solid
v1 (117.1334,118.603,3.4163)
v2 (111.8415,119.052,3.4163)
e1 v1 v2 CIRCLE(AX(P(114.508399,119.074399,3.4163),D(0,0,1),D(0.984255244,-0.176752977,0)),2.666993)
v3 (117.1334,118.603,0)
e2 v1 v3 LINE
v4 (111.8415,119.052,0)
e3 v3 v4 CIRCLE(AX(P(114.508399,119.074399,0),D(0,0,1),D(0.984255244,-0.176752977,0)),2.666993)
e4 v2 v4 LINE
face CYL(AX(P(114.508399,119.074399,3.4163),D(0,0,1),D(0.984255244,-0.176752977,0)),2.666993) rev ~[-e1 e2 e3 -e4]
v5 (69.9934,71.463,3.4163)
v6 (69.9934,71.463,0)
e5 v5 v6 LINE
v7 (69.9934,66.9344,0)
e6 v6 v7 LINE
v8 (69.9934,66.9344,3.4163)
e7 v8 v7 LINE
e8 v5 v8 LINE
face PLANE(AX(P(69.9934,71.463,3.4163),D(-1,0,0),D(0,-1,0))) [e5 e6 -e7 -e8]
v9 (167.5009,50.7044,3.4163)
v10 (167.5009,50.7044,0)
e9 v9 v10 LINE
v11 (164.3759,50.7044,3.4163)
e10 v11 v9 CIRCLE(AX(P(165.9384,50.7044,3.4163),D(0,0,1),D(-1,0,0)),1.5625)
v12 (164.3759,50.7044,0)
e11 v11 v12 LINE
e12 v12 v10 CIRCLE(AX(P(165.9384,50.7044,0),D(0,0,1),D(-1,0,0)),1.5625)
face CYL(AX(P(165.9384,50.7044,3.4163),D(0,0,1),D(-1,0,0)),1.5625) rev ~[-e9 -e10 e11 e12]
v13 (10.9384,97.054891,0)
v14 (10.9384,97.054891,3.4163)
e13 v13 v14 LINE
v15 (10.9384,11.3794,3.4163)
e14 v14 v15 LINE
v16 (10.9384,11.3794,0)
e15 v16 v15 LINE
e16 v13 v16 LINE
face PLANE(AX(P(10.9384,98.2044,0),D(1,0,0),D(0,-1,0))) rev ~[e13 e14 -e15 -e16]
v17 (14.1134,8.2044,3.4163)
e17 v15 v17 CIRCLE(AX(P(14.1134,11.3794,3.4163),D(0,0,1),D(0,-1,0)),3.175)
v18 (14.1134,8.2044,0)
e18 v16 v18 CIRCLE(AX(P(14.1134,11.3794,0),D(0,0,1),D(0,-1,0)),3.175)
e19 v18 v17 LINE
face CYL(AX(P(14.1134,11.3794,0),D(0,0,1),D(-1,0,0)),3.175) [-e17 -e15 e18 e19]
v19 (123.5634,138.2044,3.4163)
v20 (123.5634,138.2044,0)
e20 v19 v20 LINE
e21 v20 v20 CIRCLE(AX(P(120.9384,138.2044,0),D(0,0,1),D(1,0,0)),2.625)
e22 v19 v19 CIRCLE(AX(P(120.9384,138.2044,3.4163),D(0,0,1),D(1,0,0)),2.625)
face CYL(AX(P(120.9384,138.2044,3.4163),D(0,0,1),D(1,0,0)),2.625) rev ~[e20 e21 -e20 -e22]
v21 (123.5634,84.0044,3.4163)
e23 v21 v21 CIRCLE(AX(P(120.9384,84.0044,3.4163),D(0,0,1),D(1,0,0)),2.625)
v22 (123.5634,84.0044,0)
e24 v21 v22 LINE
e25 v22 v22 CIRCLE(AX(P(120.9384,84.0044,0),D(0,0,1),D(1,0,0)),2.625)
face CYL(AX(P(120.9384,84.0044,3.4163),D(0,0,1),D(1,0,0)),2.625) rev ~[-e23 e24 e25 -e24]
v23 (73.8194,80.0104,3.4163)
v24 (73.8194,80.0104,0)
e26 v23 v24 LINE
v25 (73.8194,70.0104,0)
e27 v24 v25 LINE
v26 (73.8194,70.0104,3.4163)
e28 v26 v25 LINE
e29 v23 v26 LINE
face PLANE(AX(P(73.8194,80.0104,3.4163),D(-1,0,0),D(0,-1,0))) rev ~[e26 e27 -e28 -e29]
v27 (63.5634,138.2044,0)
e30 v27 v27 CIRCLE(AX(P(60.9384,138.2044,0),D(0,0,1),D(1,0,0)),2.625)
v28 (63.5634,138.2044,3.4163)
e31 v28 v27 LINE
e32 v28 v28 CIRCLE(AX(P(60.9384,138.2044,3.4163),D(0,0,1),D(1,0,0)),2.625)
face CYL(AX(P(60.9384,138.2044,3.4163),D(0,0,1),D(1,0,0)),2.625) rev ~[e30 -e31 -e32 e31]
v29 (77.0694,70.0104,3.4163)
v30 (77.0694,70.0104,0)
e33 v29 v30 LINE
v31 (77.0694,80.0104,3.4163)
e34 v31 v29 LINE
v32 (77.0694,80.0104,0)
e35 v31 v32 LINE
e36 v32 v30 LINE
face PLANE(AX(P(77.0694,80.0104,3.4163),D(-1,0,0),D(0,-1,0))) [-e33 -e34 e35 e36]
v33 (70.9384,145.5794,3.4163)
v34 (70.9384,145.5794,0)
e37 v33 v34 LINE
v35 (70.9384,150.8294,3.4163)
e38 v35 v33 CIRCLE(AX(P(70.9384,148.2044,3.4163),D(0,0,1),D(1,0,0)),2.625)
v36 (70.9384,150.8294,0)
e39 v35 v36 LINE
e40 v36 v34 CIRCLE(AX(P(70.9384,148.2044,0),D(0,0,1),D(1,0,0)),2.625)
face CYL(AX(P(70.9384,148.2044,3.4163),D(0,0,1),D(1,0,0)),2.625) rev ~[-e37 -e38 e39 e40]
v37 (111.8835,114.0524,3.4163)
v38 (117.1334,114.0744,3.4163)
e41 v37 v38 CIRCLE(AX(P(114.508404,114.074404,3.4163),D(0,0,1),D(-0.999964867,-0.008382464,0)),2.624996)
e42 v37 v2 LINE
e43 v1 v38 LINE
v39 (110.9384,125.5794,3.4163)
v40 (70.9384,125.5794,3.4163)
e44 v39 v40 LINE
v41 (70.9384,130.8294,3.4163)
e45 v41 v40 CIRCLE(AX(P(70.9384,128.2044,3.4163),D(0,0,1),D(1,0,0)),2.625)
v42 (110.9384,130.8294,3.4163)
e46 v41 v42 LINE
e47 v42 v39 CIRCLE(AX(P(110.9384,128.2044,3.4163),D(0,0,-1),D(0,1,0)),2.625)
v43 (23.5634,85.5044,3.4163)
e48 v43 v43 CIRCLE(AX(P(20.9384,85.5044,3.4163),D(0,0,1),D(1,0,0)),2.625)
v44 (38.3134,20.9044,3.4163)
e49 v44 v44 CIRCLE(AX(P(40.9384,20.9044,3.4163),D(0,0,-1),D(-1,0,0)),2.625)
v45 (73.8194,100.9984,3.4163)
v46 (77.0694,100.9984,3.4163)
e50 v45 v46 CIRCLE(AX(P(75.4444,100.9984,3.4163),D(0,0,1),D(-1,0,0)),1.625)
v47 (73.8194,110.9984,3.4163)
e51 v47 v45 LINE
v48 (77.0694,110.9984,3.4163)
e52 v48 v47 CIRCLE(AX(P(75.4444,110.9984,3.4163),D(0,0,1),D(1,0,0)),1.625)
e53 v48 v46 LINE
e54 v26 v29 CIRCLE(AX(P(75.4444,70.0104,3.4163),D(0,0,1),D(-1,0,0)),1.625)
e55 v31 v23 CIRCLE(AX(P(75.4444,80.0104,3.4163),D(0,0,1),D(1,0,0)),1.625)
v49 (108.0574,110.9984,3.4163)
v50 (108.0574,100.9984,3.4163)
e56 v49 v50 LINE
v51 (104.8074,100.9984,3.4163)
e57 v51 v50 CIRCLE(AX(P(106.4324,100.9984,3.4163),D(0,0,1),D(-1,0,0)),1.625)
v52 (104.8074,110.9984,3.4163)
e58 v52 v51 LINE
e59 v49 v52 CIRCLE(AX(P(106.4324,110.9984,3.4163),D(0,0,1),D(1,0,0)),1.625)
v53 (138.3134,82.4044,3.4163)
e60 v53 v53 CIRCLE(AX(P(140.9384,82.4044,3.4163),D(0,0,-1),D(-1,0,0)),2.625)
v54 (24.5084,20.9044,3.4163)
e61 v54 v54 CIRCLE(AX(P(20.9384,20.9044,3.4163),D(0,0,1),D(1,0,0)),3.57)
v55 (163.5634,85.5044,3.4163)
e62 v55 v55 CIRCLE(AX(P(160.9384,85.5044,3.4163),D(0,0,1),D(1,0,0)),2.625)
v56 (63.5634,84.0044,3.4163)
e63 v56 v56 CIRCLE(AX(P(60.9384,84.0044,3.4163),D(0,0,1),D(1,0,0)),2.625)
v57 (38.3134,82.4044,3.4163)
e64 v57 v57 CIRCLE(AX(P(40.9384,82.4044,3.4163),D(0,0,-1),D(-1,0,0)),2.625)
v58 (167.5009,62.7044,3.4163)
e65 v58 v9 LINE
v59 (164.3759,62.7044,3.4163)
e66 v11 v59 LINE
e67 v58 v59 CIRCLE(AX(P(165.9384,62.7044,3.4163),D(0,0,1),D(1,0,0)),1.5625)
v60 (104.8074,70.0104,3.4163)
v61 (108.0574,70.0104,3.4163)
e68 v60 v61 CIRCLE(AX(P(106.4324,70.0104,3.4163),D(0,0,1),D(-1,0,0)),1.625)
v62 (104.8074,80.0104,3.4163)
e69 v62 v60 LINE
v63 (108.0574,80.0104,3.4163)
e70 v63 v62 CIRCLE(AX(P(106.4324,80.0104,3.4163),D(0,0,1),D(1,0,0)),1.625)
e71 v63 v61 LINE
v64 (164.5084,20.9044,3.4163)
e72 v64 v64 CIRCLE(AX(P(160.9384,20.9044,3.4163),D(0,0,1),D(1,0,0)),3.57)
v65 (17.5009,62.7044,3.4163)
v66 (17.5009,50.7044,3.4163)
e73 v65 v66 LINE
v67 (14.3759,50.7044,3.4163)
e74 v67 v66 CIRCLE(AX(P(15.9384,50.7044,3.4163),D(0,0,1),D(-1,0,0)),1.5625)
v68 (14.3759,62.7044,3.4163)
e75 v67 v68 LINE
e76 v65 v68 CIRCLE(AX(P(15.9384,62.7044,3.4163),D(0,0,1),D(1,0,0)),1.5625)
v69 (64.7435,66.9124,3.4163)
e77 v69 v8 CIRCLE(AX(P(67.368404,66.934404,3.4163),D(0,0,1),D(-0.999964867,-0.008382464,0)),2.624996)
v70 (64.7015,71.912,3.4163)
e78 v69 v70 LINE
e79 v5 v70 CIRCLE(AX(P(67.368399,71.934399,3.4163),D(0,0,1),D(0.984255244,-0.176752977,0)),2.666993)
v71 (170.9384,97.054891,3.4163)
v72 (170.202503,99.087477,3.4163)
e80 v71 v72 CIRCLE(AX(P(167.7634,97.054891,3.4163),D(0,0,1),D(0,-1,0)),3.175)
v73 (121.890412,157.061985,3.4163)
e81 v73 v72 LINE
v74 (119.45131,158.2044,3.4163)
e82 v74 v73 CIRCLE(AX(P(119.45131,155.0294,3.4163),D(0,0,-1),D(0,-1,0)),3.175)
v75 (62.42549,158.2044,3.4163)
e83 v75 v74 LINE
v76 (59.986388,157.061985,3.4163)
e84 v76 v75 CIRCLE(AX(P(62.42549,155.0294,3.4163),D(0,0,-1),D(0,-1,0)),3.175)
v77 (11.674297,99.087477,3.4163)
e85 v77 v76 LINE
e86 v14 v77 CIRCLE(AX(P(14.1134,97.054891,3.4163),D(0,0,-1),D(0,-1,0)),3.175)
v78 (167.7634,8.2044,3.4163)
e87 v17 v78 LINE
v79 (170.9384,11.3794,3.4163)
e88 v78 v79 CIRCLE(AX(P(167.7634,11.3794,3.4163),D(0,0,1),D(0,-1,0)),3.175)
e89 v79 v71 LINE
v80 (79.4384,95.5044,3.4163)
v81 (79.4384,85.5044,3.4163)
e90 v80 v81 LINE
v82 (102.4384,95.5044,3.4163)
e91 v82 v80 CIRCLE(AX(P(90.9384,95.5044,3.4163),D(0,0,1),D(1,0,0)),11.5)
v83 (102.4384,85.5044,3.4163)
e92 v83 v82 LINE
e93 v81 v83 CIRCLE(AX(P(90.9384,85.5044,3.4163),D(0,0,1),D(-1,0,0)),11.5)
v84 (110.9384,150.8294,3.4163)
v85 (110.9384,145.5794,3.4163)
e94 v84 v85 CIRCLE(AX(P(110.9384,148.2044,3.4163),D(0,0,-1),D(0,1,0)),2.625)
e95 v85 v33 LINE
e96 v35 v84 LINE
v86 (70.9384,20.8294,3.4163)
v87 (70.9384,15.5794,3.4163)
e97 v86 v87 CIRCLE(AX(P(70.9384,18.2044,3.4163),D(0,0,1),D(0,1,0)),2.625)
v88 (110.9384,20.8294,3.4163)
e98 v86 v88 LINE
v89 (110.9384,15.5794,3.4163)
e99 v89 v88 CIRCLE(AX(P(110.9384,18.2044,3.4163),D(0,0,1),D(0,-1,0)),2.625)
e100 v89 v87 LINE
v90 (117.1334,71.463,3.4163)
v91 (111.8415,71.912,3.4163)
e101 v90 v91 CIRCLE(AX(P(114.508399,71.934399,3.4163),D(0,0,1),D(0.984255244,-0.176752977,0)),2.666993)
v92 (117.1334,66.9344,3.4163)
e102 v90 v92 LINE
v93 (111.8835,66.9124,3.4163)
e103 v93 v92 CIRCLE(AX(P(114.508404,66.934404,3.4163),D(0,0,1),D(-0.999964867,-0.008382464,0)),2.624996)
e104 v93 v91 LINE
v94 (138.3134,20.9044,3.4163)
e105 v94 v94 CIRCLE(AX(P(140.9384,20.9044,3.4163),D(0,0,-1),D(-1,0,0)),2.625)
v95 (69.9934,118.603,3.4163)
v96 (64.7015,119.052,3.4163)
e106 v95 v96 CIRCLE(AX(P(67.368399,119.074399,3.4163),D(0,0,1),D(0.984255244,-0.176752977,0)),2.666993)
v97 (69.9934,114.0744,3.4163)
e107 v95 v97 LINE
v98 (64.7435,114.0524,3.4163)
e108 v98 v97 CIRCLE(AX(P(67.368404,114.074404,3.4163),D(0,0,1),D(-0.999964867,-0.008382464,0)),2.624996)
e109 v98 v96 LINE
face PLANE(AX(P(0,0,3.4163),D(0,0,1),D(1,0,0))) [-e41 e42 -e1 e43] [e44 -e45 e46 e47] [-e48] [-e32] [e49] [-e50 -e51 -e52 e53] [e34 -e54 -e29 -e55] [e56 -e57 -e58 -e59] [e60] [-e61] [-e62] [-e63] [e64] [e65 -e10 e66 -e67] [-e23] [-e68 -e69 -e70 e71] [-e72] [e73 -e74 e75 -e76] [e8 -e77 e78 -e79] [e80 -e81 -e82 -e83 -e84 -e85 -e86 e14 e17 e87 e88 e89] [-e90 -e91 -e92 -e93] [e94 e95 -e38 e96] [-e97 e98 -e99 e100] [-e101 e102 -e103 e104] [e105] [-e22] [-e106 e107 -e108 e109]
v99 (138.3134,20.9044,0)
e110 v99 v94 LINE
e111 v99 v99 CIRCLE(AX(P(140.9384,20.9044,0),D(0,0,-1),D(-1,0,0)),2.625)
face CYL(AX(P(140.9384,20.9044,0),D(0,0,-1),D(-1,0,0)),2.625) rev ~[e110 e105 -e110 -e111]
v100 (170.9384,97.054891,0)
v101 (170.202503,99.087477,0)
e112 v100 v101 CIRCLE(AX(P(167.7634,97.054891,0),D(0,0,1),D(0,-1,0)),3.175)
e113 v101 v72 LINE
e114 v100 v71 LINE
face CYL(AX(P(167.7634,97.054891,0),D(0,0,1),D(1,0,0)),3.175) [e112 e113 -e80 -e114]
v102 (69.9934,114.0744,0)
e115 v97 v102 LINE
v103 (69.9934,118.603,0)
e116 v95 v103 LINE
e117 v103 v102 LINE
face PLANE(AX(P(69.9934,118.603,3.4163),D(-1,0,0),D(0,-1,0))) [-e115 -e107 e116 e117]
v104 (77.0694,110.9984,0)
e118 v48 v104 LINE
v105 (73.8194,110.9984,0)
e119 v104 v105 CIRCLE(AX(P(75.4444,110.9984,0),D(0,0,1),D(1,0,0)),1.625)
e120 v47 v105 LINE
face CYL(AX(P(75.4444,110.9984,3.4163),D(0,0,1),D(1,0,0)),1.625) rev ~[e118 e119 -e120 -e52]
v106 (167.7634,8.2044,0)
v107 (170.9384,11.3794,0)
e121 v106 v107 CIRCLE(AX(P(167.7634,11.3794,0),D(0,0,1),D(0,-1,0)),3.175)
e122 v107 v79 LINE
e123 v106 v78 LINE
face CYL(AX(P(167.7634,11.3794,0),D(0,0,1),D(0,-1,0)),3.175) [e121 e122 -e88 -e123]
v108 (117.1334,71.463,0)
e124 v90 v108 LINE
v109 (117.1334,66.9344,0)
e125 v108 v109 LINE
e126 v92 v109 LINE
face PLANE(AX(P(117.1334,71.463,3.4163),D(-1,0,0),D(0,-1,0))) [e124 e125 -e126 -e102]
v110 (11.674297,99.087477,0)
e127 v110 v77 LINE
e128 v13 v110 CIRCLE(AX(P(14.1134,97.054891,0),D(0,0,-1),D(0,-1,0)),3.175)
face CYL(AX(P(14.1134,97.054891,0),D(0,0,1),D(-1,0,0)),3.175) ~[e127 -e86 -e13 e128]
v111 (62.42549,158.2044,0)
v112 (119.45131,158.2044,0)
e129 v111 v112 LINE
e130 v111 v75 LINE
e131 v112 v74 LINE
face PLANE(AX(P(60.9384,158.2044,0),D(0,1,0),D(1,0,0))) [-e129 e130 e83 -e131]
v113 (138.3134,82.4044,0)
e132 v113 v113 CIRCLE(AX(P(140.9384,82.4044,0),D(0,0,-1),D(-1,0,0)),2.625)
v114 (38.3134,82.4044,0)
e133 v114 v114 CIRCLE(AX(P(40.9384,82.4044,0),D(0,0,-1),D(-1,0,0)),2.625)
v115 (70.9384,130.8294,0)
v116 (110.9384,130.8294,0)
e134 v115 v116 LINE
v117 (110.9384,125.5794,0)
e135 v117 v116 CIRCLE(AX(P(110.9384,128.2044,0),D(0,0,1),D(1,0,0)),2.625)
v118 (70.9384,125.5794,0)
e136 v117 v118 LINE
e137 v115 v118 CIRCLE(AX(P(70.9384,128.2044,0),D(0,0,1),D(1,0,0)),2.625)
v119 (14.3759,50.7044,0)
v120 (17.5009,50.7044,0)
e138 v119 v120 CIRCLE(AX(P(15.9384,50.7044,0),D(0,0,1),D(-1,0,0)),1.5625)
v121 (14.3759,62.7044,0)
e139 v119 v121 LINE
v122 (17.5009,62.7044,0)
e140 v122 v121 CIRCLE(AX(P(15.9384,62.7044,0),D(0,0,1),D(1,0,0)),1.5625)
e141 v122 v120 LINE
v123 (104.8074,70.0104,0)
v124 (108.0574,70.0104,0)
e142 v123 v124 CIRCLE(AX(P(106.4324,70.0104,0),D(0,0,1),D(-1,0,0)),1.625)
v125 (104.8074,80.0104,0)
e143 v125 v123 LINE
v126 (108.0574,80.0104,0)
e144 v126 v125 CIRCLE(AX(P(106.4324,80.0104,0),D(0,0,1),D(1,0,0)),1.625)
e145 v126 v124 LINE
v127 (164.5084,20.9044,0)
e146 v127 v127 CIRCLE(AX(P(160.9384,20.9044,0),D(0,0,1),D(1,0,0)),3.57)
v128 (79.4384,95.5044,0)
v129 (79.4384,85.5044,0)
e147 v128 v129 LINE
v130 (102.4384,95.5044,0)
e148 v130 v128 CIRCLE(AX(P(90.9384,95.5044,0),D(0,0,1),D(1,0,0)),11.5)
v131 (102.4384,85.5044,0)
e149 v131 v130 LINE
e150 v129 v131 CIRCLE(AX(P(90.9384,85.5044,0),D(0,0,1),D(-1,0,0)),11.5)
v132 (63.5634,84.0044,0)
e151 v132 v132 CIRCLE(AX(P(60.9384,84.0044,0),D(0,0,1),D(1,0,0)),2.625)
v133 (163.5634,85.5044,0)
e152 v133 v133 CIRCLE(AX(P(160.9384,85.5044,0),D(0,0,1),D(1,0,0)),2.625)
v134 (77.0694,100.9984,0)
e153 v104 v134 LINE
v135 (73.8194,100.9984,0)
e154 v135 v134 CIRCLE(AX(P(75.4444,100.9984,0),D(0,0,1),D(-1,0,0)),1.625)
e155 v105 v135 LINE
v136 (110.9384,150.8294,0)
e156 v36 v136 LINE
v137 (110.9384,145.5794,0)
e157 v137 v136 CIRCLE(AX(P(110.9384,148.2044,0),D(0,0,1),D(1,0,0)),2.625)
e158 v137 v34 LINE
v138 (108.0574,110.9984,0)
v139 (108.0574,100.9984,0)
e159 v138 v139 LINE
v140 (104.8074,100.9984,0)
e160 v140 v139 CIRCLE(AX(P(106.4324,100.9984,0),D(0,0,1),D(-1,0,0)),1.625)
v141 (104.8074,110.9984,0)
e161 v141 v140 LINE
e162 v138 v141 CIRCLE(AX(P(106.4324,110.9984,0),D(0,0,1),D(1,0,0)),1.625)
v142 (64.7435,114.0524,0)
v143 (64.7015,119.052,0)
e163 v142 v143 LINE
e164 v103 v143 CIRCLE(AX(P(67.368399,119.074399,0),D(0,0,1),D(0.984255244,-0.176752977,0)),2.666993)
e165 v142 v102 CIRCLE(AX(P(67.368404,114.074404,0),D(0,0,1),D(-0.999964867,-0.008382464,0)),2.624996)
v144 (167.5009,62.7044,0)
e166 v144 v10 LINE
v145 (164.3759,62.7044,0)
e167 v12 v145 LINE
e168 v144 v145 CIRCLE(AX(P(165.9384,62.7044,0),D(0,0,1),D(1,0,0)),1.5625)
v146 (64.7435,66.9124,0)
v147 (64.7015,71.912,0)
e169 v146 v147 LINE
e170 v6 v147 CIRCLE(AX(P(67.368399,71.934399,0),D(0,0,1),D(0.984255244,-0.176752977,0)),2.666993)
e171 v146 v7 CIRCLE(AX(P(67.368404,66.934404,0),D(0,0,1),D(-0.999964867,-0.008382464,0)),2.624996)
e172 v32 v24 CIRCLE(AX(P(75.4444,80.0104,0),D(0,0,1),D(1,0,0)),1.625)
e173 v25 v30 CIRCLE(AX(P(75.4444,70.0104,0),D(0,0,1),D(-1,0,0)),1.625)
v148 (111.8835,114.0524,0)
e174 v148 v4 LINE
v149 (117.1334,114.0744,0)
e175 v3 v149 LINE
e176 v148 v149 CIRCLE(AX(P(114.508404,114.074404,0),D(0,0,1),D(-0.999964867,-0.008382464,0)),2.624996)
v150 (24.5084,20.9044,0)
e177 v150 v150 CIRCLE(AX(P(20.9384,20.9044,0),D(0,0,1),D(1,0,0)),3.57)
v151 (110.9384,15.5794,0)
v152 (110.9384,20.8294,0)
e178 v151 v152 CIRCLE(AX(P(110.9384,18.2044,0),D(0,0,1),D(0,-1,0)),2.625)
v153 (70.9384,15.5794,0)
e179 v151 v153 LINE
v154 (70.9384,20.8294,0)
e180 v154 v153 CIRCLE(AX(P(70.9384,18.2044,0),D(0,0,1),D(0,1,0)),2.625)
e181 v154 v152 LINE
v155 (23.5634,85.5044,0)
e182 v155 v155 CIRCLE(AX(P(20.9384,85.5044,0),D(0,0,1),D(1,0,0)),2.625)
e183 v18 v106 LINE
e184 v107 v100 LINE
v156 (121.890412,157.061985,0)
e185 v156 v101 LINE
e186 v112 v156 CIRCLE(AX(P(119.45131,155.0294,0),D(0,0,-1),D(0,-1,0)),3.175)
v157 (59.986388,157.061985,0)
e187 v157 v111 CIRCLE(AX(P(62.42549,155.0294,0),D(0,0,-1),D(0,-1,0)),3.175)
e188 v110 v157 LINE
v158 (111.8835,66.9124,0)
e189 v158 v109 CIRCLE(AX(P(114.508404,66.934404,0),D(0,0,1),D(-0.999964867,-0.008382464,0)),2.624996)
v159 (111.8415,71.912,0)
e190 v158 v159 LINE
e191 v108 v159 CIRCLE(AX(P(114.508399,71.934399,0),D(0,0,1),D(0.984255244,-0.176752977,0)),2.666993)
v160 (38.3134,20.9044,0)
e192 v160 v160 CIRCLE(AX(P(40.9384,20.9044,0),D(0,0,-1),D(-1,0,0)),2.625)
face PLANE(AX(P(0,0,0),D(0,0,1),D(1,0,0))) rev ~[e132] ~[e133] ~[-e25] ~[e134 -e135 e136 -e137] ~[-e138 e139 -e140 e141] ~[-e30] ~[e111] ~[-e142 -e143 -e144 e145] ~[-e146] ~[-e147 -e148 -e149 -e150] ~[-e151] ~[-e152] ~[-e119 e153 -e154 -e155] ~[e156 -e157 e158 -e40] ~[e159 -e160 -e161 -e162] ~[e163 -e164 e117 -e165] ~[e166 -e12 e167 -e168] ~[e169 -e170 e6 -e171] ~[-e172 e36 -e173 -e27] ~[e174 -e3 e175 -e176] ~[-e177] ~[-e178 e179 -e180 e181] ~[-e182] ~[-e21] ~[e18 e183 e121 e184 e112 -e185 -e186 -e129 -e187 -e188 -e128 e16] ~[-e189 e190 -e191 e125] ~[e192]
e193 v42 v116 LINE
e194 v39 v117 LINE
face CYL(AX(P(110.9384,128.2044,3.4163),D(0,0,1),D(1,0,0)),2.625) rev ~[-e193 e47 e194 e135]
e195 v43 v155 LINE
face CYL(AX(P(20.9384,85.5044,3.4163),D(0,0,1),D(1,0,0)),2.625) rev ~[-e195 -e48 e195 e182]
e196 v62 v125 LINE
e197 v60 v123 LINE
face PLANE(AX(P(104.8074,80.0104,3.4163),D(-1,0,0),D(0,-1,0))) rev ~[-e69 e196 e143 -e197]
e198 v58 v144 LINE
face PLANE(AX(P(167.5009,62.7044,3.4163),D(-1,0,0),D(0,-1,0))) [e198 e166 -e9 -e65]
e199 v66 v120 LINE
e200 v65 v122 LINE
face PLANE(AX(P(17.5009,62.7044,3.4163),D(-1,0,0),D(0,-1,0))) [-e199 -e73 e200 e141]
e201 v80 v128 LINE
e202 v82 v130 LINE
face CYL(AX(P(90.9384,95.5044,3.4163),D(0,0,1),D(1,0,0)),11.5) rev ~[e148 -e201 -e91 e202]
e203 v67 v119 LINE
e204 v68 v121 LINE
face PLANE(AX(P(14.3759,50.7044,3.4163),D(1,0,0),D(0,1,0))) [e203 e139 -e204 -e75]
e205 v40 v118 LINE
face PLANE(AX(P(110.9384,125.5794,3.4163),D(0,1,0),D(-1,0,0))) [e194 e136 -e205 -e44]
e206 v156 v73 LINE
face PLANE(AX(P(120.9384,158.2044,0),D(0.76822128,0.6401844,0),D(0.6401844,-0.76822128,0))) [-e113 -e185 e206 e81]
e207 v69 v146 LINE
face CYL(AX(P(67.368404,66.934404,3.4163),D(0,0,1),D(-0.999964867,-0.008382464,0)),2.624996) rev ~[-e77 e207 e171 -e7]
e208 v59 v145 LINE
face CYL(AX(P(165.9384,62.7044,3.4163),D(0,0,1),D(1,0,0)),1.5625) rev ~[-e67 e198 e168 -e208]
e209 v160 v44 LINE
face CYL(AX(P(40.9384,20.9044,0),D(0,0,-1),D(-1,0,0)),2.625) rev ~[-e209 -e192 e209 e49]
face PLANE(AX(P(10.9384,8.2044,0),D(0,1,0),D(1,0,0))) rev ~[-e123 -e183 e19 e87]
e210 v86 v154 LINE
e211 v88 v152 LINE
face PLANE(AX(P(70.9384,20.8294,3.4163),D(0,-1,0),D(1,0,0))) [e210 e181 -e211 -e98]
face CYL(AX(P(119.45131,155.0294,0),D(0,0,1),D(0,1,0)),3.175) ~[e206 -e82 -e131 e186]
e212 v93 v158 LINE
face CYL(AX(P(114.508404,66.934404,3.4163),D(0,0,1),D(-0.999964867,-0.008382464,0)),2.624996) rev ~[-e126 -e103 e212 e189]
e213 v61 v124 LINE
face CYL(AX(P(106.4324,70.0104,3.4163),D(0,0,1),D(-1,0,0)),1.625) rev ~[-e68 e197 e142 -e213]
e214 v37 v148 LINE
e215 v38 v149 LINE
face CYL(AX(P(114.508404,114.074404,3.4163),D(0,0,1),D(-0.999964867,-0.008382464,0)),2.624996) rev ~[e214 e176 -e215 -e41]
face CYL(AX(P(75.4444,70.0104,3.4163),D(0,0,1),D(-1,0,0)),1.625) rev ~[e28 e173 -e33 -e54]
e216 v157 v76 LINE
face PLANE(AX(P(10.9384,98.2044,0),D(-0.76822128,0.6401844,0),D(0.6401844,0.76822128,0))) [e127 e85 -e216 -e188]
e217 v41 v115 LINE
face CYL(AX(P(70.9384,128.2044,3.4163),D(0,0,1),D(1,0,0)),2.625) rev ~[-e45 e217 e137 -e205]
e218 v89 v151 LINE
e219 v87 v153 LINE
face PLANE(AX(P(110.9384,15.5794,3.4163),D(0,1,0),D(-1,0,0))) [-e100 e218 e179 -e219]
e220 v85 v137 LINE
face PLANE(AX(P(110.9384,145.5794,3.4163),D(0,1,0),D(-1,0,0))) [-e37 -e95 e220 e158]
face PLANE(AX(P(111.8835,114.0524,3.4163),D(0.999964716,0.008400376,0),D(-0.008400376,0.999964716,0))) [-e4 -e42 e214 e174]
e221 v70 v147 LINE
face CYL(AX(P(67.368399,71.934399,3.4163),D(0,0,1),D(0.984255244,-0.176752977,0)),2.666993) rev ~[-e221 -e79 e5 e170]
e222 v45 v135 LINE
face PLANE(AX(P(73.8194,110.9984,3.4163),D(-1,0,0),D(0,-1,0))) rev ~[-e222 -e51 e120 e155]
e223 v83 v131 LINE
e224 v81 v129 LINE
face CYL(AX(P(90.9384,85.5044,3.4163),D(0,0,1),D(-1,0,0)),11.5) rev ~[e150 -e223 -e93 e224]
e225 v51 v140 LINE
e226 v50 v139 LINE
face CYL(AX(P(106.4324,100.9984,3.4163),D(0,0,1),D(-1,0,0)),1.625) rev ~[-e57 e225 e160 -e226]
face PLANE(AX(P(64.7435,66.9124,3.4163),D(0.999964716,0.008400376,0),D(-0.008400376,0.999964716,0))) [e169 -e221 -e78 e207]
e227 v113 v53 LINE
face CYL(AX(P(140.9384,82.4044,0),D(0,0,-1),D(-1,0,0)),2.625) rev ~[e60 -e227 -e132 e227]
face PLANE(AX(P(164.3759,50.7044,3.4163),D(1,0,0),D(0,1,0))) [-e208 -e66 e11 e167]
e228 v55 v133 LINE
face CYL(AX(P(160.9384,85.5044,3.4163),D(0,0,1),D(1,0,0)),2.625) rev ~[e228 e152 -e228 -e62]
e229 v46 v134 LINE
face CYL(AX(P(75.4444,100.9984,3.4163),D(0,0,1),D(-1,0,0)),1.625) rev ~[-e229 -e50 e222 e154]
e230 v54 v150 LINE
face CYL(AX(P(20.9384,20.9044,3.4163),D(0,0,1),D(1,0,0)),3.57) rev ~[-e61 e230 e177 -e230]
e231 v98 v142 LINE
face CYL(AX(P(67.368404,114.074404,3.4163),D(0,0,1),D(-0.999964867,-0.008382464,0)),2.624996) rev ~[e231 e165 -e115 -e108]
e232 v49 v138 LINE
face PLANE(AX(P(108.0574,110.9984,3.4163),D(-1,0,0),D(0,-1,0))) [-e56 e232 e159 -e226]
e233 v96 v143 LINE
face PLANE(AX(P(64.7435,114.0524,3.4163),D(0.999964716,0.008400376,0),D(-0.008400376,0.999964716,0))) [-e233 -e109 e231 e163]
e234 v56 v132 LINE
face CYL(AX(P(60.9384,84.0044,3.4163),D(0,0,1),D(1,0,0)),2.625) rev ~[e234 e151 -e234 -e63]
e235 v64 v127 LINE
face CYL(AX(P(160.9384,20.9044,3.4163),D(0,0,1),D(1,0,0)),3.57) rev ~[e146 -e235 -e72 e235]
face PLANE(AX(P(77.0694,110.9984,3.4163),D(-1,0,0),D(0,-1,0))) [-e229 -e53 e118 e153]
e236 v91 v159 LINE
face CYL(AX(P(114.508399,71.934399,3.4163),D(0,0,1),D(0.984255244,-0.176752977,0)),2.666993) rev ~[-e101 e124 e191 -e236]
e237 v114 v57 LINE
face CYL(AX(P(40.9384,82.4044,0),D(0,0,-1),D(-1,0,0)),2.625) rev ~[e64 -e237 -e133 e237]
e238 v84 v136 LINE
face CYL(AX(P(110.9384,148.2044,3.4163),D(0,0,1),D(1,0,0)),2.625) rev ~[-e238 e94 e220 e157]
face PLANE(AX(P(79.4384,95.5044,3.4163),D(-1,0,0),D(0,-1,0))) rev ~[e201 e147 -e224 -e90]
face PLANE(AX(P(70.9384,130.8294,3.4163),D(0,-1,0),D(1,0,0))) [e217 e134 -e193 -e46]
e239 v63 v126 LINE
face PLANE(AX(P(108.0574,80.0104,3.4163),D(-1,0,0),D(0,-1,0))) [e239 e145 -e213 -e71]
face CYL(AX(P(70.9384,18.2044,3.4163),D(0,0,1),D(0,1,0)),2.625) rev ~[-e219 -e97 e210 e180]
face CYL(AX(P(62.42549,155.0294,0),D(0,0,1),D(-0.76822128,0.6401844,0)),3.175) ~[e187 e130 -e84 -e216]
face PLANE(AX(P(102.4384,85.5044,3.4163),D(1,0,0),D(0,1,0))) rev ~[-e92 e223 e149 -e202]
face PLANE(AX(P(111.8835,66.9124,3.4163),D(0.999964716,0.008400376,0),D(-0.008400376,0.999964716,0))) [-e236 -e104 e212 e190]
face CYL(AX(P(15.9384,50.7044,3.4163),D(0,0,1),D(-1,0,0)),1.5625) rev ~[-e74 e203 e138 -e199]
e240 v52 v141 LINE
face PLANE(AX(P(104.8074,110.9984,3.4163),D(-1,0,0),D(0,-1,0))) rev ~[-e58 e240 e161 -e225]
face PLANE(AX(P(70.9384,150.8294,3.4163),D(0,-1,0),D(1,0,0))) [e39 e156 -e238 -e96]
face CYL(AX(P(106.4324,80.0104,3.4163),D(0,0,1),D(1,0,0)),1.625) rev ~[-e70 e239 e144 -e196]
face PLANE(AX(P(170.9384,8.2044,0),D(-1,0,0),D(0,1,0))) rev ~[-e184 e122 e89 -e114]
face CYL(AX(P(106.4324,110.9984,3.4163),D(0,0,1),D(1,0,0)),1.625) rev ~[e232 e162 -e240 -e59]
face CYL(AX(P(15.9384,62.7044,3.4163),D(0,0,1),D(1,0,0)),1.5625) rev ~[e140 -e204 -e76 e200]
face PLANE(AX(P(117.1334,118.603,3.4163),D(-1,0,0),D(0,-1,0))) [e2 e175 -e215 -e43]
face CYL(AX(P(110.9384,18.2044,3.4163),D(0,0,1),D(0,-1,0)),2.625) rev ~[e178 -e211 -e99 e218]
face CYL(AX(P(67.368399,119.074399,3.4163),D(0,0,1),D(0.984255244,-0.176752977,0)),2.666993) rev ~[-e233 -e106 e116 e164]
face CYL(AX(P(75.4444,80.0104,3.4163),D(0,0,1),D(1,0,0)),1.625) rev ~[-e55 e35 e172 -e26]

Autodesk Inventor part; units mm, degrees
ref_plane "YZ Plane" through (0, 0, 0) normal (1, 0, 0) x (0, 1, 0)
ref_plane "XZ Plane" through (0, 0, 0) normal (0, 1, 0) x (-1, 0, 0)
ref_plane "XY Plane" through (0, 0, 0) normal (0, 0, 1) x (1, 0, 0)
sketch "Sketch1" plane through (0, 0, 0) normal (0, 0, 1) x (1, 0, 0)
  line L0 (10.9384, 8.2044) -> (170.9384, 8.2044)
  line L1 (170.9384, 8.2044) -> (170.9384, 98.2044)
  line L2 (10.9384, 98.2044) -> (10.9384, 8.2044)
  line L3 (10.9384, 98.2044) -> (60.9384, 158.2044)
  line L4 (60.9384, 158.2044) -> (120.9384, 158.2044)
  line L5 (120.9384, 158.2044) -> (170.9384, 98.2044)
  dimension "d0" = 160
  dimension "d4" = 60
  dimension "d5" = 50
  dimension "d6" = 90
  dimension "d7" = 90
  dimension "d8" = 150
extrude "Extrusion1" add sketch "Sketch1" along normal blind 3.4163
sketch "Sketch2" plane through (0, 0, 3.4163) normal (0, 0, 1) x (1, 0, 0)
  line L0 (10.9384, 8.2044) -> (10.9384, 98.2044) projected
  line L1 (170.9384, 8.2044) -> (10.9384, 8.2044) projected
  circle A0 centre (20.9384, 20.9044) radius 3.57
  circle A1 centre (20.9384, 85.5044) radius 2.625
  dimension "d11" = 7.14
  dimension "d12" = 12.7
  dimension "d13" = 10
  dimension "d14" = 10
  dimension "d15" = 64.6
  dimension "d16" = 5.25
extrude "wheel_holes" cut sketch "Sketch2" against normal through all
pattern_linear "Rectangular Pattern1" count 2 spacing 140 along (1, 0, 0) of "wheel_holes"
sketch "Sketch3" plane through (0, 0, 3.4163) normal (0, 0, 1) x (1, 0, 0)
  line L0 (10.9384, 8.2044) -> (10.9384, 98.2044) projected
  line L1 (170.9384, 8.2044) -> (10.9384, 8.2044) projected
  arc A0 (79.4384, 85.5044) -> (102.4384, 85.5044) centre (90.9384, 85.5044) ccw
  arc A1 (73.8194, 100.9984) -> (77.0694, 100.9984) centre (75.4444, 100.9984) ccw
  line L2 (170.9384, 98.2044) -> (170.9384, 8.2044) projected
  arc A2 (77.0694, 110.9984) -> (73.8194, 110.9984) centre (75.4444, 110.9984) ccw
  line L3 (77.0694, 110.9984) -> (77.0694, 100.9984)
  line L4 (73.8194, 110.9984) -> (73.8194, 100.9984)
  arc A3 (102.4384, 95.5044) -> (79.4384, 95.5044) centre (90.9384, 95.5044) ccw
  line L5 (79.4384, 95.5044) -> (79.4384, 85.5044)
  line L6 (102.4384, 85.5044) -> (102.4384, 95.5044)
  arc A4 (104.8074, 100.9984) -> (108.0574, 100.9984) centre (106.4324, 100.9984) ccw
  arc A5 (108.0574, 110.9984) -> (104.8074, 110.9984) centre (106.4324, 110.9984) ccw
  line L7 (108.0574, 110.9984) -> (108.0574, 100.9984)
  line L8 (104.8074, 110.9984) -> (104.8074, 100.9984)
  arc A6 (73.8194, 70.0104) -> (77.0694, 70.0104) centre (75.4444, 70.0104) ccw
  arc A7 (77.0694, 80.0104) -> (73.8194, 80.0104) centre (75.4444, 80.0104) ccw
  line L9 (77.0694, 80.0104) -> (77.0694, 70.0104)
  line L10 (73.8194, 80.0104) -> (73.8194, 70.0104)
  arc A8 (104.8074, 70.0104) -> (108.0574, 70.0104) centre (106.4324, 70.0104) ccw
  arc A9 (108.0574, 80.0104) -> (104.8074, 80.0104) centre (106.4324, 80.0104) ccw
  line L11 (108.0574, 80.0104) -> (108.0574, 70.0104)
  line L12 (104.8074, 80.0104) -> (104.8074, 70.0104)
  dimension "d22" = 23
  dimension "d23" = 80
  dimension "d24" = 77.3
  dimension "d33" = 3.25
  dimension "d35" = 64.506
  dimension "d36" = 92.794
  dimension "d105" = 10
  dimension "d106" = 64.506
  dimension "d110" = 3.25
  dimension "d112" = 23
  dimension "d113" = 80
  dimension "d114" = 10
  dimension "d126" = 30.988
  dimension "d129" = 30.988
  dimension "d141" = 10
extrude "Nema_17" cut sketch "Sketch3" against normal through all
sketch "Sketch4" plane through (0, 0, 3.4163) normal (0, 0, 1) x (1, 0, 0)
  circle A0 centre (160.9384, 85.5044) radius 2.625 projected
  circle A1 centre (20.9384, 85.5044) radius 2.625 projected
  line L0 (10.9384, 8.2044) -> (10.9384, 98.2044) projected
  line L1 (170.9384, 98.2044) -> (170.9384, 8.2044) projected
  circle A2 centre (60.9384, 84.0044) radius 2.625
  circle A3 centre (120.9384, 84.0044) radius 2.625
  dimension "d39" = 50
  dimension "d41" = 5.25
  dimension "d42" = 50
  dimension "d43" = 1.5
  dimension "d44" = 5.25
  dimension "d99" = 1.5
extrude "Idler_Holes" cut sketch "Sketch4" against normal through all contours A2 | A3
sketch "Sketch5" plane through (0, 0, 3.4163) normal (0, 0, 1) x (1, 0, 0)
  line L0 (60.9384, 158.2044) -> (120.9384, 158.2044) projected
  circle A0 centre (110.9384, 148.2044) radius 2.625
  circle A1 centre (110.9384, 128.2044) radius 2.625
  circle A2 centre (70.9384, 148.2044) radius 2.625
  circle A3 centre (70.9384, 128.2044) radius 2.625
  line L1 (70.9384, 150.8294) -> (110.9384, 150.8294)
  line L2 (110.9384, 145.5794) -> (70.9384, 145.5794)
  line L3 (70.9384, 130.8294) -> (110.9384, 130.8294)
  line L4 (110.9384, 125.5794) -> (70.9384, 125.5794)
  dimension "d47" = 10
  dimension "d48" = 10
  dimension "d49" = 20
  dimension "d50" = 10
  dimension "d51" = 5.25
  dimension "d52" = 5.25
  dimension "d87" = 40
  dimension "d145" = 40
  dimension "d146" = 40
extrude "x-slot" cut sketch "Sketch5" against normal through all
fillet "Fillet2" radius 3.175 6 edges at (120.9384, 158.2044, 1.7082) (60.9384, 158.2044, 1.7082) (170.9384, 98.2044, 1.7082) (170.9384, 8.2044, 1.7082) (10.9384, 98.2044, 1.7082) (10.9384, 8.2044, 1.7082)
sketch "Sketch7" plane through (0, 0, 0) normal (0, 0, -1) x (-1, 0, 0)
  line L0 (-10.9384, 97.0549) -> (-10.9384, 11.3794) projected
  line L1 (-170.9384, 11.3794) -> (-170.9384, 97.0549) projected
  line L2 (-14.1134, 8.2044) -> (-167.7634, 8.2044) projected
  circle A0 centre (-140.9384, 20.9044) radius 2.625
  circle A1 centre (-40.9384, 20.9044) radius 2.625
  dimension "d68" = 5.25
  dimension "d69" = 12.7
  dimension "d70" = 30
  dimension "d71" = 5.25
  dimension "d72" = 30
  dimension "d73" = 12.7
extrude "two_plater" cut sketch "Sketch7" against normal through all
pattern_linear "Rectangular Pattern3" count 2 spacing 61.5 along (0, 1, 0) of "two_plater"
sketch "Sketch8" plane through (0, 0, 3.4163) normal (0, 0, 1) x (1, 0, 0)
  line L0 (167.7634, 8.2044) -> (14.1134, 8.2044) projected
  line L1 (10.9384, 11.3794) -> (10.9384, 97.0549) projected
  arc A0 (14.3759, 50.7044) -> (17.5009, 50.7044) centre (15.9384, 50.7044) ccw
  arc A1 (17.5009, 62.7044) -> (14.3759, 62.7044) centre (15.9384, 62.7044) ccw
  line L2 (14.3759, 50.7044) -> (14.3759, 62.7044)
  line L3 (17.5009, 62.7044) -> (17.5009, 50.7044)
  arc A2 (164.3759, 50.7044) -> (167.5009, 50.7044) centre (165.9384, 50.7044) ccw
  arc A3 (167.5009, 62.7044) -> (164.3759, 62.7044) centre (165.9384, 62.7044) ccw
  line L4 (164.3759, 50.7044) -> (164.3759, 62.7044)
  line L5 (167.5009, 62.7044) -> (167.5009, 50.7044)
  point P0 (0, 0)
  dimension "d76" = 3.125
  dimension "d77" = 3.125
  dimension "d78" = 12
  dimension "d79" = 5
  dimension "d80" = 42.5
  dimension "d81" = 3.125
  dimension "d82" = 5
  dimension "d94" = 150
extrude "limit_switches" cut sketch "Sketch8" against normal through all
sketch "Sketch10" plane through (0, 0, 3.4163) normal (0, 0, 1) x (1, 0, 0)
  line L0 (167.7634, 8.2044) -> (14.1134, 8.2044) projected
  line L1 (170.9384, 97.0549) -> (170.9384, 11.3794) projected
  arc A0 (70.9384, 20.8294) -> (70.9384, 15.5794) centre (70.9384, 18.2044) ccw
  arc A1 (110.9384, 15.5794) -> (110.9384, 20.8294) centre (110.9384, 18.2044) ccw
  line L2 (70.9384, 20.8294) -> (110.9384, 20.8294)
  line L3 (110.9384, 15.5794) -> (70.9384, 15.5794)
  point P0 (0, 0)
  dimension "d132" = 5.25
  dimension "d133" = 5.25
  dimension "d134" = 10
  dimension "d135" = 10
  dimension "d136" = 40
  dimension "d137" = 40
  dimension "d138" = 60
extrude "Extrusion10" cut sketch "Sketch10" against normal through all
sketch "Sketch11" plane through (0, 0, 3.4163) normal (0, 0, 1) x (1, 0, 0)
  line L0 (62.4255, 158.2044) -> (119.4513, 158.2044) projected
  line L1 (10.9384, 11.3794) -> (10.9384, 97.0549) projected
  circle A0 centre (60.9384, 138.2044) radius 2.625
  circle A1 centre (120.9384, 138.2044) radius 2.625
  point P0 (0, 0)
  dimension "d147" = 5.25
  dimension "d148" = 5.25
  dimension "d149" = 60
  dimension "d150" = 20
  dimension "d151" = 20
  dimension "d152" = 50
extrude "Extrusion11" cut sketch "Sketch11" against normal through all
sketch "Sketch13" plane through (0, 0, 3.4163) normal (0, 0, 1) x (1, 0, 0)
  line L0 (10.9384, 11.3794) -> (10.9384, 97.0549) projected
  arc A0 (102.4384, 95.5044) -> (79.4384, 95.5044) centre (90.9384, 95.5044) ccw projected
  arc A1 (69.9934, 118.603) -> (64.7015, 119.052) centre (67.3684, 119.0744) ccw
  arc A2 (64.7435, 114.0524) -> (69.9934, 114.0744) centre (67.3684, 114.0744) ccw
  line L1 (69.9934, 118.603) -> (69.9934, 114.0744)
  line L2 (64.7435, 114.0524) -> (64.7015, 119.052)
  point P0 (0, 0)
  dimension "d155" = 5.334
  dimension "d156" = 56.43
  dimension "d157" = 23.57
  dimension "d166" = 5.25
  dimension "d167" = 5
  dimension "d168" = 56.43
extrude "Extrusion12" cut sketch "Sketch13" against normal through all
pattern_linear "Rectangular Pattern4" count 2 spacing 47.14 along (1, 0, 0) count 2 spacing 47.14 along (0, -1, 0) of "Extrusion12"
equation "\"d7\" = d6"
equation "\"d35\" = d29"
equation "\"d112\" = d22"
equation "\"d113\" = d23"
equation "\"d42\" = d39"
equation "\"d43\" = d99"
equation "\"d44\" = d41"
equation "\"d50\" = d48"
equation "\"d52\" = d51"
equation "\"d76\" = d77"
equation "\"d82\" = d79"
equation "\"d134\" = d135"
equation "\"d29\" = 64.506"
properties part number "S2_mm" material "Steel, Mild"
